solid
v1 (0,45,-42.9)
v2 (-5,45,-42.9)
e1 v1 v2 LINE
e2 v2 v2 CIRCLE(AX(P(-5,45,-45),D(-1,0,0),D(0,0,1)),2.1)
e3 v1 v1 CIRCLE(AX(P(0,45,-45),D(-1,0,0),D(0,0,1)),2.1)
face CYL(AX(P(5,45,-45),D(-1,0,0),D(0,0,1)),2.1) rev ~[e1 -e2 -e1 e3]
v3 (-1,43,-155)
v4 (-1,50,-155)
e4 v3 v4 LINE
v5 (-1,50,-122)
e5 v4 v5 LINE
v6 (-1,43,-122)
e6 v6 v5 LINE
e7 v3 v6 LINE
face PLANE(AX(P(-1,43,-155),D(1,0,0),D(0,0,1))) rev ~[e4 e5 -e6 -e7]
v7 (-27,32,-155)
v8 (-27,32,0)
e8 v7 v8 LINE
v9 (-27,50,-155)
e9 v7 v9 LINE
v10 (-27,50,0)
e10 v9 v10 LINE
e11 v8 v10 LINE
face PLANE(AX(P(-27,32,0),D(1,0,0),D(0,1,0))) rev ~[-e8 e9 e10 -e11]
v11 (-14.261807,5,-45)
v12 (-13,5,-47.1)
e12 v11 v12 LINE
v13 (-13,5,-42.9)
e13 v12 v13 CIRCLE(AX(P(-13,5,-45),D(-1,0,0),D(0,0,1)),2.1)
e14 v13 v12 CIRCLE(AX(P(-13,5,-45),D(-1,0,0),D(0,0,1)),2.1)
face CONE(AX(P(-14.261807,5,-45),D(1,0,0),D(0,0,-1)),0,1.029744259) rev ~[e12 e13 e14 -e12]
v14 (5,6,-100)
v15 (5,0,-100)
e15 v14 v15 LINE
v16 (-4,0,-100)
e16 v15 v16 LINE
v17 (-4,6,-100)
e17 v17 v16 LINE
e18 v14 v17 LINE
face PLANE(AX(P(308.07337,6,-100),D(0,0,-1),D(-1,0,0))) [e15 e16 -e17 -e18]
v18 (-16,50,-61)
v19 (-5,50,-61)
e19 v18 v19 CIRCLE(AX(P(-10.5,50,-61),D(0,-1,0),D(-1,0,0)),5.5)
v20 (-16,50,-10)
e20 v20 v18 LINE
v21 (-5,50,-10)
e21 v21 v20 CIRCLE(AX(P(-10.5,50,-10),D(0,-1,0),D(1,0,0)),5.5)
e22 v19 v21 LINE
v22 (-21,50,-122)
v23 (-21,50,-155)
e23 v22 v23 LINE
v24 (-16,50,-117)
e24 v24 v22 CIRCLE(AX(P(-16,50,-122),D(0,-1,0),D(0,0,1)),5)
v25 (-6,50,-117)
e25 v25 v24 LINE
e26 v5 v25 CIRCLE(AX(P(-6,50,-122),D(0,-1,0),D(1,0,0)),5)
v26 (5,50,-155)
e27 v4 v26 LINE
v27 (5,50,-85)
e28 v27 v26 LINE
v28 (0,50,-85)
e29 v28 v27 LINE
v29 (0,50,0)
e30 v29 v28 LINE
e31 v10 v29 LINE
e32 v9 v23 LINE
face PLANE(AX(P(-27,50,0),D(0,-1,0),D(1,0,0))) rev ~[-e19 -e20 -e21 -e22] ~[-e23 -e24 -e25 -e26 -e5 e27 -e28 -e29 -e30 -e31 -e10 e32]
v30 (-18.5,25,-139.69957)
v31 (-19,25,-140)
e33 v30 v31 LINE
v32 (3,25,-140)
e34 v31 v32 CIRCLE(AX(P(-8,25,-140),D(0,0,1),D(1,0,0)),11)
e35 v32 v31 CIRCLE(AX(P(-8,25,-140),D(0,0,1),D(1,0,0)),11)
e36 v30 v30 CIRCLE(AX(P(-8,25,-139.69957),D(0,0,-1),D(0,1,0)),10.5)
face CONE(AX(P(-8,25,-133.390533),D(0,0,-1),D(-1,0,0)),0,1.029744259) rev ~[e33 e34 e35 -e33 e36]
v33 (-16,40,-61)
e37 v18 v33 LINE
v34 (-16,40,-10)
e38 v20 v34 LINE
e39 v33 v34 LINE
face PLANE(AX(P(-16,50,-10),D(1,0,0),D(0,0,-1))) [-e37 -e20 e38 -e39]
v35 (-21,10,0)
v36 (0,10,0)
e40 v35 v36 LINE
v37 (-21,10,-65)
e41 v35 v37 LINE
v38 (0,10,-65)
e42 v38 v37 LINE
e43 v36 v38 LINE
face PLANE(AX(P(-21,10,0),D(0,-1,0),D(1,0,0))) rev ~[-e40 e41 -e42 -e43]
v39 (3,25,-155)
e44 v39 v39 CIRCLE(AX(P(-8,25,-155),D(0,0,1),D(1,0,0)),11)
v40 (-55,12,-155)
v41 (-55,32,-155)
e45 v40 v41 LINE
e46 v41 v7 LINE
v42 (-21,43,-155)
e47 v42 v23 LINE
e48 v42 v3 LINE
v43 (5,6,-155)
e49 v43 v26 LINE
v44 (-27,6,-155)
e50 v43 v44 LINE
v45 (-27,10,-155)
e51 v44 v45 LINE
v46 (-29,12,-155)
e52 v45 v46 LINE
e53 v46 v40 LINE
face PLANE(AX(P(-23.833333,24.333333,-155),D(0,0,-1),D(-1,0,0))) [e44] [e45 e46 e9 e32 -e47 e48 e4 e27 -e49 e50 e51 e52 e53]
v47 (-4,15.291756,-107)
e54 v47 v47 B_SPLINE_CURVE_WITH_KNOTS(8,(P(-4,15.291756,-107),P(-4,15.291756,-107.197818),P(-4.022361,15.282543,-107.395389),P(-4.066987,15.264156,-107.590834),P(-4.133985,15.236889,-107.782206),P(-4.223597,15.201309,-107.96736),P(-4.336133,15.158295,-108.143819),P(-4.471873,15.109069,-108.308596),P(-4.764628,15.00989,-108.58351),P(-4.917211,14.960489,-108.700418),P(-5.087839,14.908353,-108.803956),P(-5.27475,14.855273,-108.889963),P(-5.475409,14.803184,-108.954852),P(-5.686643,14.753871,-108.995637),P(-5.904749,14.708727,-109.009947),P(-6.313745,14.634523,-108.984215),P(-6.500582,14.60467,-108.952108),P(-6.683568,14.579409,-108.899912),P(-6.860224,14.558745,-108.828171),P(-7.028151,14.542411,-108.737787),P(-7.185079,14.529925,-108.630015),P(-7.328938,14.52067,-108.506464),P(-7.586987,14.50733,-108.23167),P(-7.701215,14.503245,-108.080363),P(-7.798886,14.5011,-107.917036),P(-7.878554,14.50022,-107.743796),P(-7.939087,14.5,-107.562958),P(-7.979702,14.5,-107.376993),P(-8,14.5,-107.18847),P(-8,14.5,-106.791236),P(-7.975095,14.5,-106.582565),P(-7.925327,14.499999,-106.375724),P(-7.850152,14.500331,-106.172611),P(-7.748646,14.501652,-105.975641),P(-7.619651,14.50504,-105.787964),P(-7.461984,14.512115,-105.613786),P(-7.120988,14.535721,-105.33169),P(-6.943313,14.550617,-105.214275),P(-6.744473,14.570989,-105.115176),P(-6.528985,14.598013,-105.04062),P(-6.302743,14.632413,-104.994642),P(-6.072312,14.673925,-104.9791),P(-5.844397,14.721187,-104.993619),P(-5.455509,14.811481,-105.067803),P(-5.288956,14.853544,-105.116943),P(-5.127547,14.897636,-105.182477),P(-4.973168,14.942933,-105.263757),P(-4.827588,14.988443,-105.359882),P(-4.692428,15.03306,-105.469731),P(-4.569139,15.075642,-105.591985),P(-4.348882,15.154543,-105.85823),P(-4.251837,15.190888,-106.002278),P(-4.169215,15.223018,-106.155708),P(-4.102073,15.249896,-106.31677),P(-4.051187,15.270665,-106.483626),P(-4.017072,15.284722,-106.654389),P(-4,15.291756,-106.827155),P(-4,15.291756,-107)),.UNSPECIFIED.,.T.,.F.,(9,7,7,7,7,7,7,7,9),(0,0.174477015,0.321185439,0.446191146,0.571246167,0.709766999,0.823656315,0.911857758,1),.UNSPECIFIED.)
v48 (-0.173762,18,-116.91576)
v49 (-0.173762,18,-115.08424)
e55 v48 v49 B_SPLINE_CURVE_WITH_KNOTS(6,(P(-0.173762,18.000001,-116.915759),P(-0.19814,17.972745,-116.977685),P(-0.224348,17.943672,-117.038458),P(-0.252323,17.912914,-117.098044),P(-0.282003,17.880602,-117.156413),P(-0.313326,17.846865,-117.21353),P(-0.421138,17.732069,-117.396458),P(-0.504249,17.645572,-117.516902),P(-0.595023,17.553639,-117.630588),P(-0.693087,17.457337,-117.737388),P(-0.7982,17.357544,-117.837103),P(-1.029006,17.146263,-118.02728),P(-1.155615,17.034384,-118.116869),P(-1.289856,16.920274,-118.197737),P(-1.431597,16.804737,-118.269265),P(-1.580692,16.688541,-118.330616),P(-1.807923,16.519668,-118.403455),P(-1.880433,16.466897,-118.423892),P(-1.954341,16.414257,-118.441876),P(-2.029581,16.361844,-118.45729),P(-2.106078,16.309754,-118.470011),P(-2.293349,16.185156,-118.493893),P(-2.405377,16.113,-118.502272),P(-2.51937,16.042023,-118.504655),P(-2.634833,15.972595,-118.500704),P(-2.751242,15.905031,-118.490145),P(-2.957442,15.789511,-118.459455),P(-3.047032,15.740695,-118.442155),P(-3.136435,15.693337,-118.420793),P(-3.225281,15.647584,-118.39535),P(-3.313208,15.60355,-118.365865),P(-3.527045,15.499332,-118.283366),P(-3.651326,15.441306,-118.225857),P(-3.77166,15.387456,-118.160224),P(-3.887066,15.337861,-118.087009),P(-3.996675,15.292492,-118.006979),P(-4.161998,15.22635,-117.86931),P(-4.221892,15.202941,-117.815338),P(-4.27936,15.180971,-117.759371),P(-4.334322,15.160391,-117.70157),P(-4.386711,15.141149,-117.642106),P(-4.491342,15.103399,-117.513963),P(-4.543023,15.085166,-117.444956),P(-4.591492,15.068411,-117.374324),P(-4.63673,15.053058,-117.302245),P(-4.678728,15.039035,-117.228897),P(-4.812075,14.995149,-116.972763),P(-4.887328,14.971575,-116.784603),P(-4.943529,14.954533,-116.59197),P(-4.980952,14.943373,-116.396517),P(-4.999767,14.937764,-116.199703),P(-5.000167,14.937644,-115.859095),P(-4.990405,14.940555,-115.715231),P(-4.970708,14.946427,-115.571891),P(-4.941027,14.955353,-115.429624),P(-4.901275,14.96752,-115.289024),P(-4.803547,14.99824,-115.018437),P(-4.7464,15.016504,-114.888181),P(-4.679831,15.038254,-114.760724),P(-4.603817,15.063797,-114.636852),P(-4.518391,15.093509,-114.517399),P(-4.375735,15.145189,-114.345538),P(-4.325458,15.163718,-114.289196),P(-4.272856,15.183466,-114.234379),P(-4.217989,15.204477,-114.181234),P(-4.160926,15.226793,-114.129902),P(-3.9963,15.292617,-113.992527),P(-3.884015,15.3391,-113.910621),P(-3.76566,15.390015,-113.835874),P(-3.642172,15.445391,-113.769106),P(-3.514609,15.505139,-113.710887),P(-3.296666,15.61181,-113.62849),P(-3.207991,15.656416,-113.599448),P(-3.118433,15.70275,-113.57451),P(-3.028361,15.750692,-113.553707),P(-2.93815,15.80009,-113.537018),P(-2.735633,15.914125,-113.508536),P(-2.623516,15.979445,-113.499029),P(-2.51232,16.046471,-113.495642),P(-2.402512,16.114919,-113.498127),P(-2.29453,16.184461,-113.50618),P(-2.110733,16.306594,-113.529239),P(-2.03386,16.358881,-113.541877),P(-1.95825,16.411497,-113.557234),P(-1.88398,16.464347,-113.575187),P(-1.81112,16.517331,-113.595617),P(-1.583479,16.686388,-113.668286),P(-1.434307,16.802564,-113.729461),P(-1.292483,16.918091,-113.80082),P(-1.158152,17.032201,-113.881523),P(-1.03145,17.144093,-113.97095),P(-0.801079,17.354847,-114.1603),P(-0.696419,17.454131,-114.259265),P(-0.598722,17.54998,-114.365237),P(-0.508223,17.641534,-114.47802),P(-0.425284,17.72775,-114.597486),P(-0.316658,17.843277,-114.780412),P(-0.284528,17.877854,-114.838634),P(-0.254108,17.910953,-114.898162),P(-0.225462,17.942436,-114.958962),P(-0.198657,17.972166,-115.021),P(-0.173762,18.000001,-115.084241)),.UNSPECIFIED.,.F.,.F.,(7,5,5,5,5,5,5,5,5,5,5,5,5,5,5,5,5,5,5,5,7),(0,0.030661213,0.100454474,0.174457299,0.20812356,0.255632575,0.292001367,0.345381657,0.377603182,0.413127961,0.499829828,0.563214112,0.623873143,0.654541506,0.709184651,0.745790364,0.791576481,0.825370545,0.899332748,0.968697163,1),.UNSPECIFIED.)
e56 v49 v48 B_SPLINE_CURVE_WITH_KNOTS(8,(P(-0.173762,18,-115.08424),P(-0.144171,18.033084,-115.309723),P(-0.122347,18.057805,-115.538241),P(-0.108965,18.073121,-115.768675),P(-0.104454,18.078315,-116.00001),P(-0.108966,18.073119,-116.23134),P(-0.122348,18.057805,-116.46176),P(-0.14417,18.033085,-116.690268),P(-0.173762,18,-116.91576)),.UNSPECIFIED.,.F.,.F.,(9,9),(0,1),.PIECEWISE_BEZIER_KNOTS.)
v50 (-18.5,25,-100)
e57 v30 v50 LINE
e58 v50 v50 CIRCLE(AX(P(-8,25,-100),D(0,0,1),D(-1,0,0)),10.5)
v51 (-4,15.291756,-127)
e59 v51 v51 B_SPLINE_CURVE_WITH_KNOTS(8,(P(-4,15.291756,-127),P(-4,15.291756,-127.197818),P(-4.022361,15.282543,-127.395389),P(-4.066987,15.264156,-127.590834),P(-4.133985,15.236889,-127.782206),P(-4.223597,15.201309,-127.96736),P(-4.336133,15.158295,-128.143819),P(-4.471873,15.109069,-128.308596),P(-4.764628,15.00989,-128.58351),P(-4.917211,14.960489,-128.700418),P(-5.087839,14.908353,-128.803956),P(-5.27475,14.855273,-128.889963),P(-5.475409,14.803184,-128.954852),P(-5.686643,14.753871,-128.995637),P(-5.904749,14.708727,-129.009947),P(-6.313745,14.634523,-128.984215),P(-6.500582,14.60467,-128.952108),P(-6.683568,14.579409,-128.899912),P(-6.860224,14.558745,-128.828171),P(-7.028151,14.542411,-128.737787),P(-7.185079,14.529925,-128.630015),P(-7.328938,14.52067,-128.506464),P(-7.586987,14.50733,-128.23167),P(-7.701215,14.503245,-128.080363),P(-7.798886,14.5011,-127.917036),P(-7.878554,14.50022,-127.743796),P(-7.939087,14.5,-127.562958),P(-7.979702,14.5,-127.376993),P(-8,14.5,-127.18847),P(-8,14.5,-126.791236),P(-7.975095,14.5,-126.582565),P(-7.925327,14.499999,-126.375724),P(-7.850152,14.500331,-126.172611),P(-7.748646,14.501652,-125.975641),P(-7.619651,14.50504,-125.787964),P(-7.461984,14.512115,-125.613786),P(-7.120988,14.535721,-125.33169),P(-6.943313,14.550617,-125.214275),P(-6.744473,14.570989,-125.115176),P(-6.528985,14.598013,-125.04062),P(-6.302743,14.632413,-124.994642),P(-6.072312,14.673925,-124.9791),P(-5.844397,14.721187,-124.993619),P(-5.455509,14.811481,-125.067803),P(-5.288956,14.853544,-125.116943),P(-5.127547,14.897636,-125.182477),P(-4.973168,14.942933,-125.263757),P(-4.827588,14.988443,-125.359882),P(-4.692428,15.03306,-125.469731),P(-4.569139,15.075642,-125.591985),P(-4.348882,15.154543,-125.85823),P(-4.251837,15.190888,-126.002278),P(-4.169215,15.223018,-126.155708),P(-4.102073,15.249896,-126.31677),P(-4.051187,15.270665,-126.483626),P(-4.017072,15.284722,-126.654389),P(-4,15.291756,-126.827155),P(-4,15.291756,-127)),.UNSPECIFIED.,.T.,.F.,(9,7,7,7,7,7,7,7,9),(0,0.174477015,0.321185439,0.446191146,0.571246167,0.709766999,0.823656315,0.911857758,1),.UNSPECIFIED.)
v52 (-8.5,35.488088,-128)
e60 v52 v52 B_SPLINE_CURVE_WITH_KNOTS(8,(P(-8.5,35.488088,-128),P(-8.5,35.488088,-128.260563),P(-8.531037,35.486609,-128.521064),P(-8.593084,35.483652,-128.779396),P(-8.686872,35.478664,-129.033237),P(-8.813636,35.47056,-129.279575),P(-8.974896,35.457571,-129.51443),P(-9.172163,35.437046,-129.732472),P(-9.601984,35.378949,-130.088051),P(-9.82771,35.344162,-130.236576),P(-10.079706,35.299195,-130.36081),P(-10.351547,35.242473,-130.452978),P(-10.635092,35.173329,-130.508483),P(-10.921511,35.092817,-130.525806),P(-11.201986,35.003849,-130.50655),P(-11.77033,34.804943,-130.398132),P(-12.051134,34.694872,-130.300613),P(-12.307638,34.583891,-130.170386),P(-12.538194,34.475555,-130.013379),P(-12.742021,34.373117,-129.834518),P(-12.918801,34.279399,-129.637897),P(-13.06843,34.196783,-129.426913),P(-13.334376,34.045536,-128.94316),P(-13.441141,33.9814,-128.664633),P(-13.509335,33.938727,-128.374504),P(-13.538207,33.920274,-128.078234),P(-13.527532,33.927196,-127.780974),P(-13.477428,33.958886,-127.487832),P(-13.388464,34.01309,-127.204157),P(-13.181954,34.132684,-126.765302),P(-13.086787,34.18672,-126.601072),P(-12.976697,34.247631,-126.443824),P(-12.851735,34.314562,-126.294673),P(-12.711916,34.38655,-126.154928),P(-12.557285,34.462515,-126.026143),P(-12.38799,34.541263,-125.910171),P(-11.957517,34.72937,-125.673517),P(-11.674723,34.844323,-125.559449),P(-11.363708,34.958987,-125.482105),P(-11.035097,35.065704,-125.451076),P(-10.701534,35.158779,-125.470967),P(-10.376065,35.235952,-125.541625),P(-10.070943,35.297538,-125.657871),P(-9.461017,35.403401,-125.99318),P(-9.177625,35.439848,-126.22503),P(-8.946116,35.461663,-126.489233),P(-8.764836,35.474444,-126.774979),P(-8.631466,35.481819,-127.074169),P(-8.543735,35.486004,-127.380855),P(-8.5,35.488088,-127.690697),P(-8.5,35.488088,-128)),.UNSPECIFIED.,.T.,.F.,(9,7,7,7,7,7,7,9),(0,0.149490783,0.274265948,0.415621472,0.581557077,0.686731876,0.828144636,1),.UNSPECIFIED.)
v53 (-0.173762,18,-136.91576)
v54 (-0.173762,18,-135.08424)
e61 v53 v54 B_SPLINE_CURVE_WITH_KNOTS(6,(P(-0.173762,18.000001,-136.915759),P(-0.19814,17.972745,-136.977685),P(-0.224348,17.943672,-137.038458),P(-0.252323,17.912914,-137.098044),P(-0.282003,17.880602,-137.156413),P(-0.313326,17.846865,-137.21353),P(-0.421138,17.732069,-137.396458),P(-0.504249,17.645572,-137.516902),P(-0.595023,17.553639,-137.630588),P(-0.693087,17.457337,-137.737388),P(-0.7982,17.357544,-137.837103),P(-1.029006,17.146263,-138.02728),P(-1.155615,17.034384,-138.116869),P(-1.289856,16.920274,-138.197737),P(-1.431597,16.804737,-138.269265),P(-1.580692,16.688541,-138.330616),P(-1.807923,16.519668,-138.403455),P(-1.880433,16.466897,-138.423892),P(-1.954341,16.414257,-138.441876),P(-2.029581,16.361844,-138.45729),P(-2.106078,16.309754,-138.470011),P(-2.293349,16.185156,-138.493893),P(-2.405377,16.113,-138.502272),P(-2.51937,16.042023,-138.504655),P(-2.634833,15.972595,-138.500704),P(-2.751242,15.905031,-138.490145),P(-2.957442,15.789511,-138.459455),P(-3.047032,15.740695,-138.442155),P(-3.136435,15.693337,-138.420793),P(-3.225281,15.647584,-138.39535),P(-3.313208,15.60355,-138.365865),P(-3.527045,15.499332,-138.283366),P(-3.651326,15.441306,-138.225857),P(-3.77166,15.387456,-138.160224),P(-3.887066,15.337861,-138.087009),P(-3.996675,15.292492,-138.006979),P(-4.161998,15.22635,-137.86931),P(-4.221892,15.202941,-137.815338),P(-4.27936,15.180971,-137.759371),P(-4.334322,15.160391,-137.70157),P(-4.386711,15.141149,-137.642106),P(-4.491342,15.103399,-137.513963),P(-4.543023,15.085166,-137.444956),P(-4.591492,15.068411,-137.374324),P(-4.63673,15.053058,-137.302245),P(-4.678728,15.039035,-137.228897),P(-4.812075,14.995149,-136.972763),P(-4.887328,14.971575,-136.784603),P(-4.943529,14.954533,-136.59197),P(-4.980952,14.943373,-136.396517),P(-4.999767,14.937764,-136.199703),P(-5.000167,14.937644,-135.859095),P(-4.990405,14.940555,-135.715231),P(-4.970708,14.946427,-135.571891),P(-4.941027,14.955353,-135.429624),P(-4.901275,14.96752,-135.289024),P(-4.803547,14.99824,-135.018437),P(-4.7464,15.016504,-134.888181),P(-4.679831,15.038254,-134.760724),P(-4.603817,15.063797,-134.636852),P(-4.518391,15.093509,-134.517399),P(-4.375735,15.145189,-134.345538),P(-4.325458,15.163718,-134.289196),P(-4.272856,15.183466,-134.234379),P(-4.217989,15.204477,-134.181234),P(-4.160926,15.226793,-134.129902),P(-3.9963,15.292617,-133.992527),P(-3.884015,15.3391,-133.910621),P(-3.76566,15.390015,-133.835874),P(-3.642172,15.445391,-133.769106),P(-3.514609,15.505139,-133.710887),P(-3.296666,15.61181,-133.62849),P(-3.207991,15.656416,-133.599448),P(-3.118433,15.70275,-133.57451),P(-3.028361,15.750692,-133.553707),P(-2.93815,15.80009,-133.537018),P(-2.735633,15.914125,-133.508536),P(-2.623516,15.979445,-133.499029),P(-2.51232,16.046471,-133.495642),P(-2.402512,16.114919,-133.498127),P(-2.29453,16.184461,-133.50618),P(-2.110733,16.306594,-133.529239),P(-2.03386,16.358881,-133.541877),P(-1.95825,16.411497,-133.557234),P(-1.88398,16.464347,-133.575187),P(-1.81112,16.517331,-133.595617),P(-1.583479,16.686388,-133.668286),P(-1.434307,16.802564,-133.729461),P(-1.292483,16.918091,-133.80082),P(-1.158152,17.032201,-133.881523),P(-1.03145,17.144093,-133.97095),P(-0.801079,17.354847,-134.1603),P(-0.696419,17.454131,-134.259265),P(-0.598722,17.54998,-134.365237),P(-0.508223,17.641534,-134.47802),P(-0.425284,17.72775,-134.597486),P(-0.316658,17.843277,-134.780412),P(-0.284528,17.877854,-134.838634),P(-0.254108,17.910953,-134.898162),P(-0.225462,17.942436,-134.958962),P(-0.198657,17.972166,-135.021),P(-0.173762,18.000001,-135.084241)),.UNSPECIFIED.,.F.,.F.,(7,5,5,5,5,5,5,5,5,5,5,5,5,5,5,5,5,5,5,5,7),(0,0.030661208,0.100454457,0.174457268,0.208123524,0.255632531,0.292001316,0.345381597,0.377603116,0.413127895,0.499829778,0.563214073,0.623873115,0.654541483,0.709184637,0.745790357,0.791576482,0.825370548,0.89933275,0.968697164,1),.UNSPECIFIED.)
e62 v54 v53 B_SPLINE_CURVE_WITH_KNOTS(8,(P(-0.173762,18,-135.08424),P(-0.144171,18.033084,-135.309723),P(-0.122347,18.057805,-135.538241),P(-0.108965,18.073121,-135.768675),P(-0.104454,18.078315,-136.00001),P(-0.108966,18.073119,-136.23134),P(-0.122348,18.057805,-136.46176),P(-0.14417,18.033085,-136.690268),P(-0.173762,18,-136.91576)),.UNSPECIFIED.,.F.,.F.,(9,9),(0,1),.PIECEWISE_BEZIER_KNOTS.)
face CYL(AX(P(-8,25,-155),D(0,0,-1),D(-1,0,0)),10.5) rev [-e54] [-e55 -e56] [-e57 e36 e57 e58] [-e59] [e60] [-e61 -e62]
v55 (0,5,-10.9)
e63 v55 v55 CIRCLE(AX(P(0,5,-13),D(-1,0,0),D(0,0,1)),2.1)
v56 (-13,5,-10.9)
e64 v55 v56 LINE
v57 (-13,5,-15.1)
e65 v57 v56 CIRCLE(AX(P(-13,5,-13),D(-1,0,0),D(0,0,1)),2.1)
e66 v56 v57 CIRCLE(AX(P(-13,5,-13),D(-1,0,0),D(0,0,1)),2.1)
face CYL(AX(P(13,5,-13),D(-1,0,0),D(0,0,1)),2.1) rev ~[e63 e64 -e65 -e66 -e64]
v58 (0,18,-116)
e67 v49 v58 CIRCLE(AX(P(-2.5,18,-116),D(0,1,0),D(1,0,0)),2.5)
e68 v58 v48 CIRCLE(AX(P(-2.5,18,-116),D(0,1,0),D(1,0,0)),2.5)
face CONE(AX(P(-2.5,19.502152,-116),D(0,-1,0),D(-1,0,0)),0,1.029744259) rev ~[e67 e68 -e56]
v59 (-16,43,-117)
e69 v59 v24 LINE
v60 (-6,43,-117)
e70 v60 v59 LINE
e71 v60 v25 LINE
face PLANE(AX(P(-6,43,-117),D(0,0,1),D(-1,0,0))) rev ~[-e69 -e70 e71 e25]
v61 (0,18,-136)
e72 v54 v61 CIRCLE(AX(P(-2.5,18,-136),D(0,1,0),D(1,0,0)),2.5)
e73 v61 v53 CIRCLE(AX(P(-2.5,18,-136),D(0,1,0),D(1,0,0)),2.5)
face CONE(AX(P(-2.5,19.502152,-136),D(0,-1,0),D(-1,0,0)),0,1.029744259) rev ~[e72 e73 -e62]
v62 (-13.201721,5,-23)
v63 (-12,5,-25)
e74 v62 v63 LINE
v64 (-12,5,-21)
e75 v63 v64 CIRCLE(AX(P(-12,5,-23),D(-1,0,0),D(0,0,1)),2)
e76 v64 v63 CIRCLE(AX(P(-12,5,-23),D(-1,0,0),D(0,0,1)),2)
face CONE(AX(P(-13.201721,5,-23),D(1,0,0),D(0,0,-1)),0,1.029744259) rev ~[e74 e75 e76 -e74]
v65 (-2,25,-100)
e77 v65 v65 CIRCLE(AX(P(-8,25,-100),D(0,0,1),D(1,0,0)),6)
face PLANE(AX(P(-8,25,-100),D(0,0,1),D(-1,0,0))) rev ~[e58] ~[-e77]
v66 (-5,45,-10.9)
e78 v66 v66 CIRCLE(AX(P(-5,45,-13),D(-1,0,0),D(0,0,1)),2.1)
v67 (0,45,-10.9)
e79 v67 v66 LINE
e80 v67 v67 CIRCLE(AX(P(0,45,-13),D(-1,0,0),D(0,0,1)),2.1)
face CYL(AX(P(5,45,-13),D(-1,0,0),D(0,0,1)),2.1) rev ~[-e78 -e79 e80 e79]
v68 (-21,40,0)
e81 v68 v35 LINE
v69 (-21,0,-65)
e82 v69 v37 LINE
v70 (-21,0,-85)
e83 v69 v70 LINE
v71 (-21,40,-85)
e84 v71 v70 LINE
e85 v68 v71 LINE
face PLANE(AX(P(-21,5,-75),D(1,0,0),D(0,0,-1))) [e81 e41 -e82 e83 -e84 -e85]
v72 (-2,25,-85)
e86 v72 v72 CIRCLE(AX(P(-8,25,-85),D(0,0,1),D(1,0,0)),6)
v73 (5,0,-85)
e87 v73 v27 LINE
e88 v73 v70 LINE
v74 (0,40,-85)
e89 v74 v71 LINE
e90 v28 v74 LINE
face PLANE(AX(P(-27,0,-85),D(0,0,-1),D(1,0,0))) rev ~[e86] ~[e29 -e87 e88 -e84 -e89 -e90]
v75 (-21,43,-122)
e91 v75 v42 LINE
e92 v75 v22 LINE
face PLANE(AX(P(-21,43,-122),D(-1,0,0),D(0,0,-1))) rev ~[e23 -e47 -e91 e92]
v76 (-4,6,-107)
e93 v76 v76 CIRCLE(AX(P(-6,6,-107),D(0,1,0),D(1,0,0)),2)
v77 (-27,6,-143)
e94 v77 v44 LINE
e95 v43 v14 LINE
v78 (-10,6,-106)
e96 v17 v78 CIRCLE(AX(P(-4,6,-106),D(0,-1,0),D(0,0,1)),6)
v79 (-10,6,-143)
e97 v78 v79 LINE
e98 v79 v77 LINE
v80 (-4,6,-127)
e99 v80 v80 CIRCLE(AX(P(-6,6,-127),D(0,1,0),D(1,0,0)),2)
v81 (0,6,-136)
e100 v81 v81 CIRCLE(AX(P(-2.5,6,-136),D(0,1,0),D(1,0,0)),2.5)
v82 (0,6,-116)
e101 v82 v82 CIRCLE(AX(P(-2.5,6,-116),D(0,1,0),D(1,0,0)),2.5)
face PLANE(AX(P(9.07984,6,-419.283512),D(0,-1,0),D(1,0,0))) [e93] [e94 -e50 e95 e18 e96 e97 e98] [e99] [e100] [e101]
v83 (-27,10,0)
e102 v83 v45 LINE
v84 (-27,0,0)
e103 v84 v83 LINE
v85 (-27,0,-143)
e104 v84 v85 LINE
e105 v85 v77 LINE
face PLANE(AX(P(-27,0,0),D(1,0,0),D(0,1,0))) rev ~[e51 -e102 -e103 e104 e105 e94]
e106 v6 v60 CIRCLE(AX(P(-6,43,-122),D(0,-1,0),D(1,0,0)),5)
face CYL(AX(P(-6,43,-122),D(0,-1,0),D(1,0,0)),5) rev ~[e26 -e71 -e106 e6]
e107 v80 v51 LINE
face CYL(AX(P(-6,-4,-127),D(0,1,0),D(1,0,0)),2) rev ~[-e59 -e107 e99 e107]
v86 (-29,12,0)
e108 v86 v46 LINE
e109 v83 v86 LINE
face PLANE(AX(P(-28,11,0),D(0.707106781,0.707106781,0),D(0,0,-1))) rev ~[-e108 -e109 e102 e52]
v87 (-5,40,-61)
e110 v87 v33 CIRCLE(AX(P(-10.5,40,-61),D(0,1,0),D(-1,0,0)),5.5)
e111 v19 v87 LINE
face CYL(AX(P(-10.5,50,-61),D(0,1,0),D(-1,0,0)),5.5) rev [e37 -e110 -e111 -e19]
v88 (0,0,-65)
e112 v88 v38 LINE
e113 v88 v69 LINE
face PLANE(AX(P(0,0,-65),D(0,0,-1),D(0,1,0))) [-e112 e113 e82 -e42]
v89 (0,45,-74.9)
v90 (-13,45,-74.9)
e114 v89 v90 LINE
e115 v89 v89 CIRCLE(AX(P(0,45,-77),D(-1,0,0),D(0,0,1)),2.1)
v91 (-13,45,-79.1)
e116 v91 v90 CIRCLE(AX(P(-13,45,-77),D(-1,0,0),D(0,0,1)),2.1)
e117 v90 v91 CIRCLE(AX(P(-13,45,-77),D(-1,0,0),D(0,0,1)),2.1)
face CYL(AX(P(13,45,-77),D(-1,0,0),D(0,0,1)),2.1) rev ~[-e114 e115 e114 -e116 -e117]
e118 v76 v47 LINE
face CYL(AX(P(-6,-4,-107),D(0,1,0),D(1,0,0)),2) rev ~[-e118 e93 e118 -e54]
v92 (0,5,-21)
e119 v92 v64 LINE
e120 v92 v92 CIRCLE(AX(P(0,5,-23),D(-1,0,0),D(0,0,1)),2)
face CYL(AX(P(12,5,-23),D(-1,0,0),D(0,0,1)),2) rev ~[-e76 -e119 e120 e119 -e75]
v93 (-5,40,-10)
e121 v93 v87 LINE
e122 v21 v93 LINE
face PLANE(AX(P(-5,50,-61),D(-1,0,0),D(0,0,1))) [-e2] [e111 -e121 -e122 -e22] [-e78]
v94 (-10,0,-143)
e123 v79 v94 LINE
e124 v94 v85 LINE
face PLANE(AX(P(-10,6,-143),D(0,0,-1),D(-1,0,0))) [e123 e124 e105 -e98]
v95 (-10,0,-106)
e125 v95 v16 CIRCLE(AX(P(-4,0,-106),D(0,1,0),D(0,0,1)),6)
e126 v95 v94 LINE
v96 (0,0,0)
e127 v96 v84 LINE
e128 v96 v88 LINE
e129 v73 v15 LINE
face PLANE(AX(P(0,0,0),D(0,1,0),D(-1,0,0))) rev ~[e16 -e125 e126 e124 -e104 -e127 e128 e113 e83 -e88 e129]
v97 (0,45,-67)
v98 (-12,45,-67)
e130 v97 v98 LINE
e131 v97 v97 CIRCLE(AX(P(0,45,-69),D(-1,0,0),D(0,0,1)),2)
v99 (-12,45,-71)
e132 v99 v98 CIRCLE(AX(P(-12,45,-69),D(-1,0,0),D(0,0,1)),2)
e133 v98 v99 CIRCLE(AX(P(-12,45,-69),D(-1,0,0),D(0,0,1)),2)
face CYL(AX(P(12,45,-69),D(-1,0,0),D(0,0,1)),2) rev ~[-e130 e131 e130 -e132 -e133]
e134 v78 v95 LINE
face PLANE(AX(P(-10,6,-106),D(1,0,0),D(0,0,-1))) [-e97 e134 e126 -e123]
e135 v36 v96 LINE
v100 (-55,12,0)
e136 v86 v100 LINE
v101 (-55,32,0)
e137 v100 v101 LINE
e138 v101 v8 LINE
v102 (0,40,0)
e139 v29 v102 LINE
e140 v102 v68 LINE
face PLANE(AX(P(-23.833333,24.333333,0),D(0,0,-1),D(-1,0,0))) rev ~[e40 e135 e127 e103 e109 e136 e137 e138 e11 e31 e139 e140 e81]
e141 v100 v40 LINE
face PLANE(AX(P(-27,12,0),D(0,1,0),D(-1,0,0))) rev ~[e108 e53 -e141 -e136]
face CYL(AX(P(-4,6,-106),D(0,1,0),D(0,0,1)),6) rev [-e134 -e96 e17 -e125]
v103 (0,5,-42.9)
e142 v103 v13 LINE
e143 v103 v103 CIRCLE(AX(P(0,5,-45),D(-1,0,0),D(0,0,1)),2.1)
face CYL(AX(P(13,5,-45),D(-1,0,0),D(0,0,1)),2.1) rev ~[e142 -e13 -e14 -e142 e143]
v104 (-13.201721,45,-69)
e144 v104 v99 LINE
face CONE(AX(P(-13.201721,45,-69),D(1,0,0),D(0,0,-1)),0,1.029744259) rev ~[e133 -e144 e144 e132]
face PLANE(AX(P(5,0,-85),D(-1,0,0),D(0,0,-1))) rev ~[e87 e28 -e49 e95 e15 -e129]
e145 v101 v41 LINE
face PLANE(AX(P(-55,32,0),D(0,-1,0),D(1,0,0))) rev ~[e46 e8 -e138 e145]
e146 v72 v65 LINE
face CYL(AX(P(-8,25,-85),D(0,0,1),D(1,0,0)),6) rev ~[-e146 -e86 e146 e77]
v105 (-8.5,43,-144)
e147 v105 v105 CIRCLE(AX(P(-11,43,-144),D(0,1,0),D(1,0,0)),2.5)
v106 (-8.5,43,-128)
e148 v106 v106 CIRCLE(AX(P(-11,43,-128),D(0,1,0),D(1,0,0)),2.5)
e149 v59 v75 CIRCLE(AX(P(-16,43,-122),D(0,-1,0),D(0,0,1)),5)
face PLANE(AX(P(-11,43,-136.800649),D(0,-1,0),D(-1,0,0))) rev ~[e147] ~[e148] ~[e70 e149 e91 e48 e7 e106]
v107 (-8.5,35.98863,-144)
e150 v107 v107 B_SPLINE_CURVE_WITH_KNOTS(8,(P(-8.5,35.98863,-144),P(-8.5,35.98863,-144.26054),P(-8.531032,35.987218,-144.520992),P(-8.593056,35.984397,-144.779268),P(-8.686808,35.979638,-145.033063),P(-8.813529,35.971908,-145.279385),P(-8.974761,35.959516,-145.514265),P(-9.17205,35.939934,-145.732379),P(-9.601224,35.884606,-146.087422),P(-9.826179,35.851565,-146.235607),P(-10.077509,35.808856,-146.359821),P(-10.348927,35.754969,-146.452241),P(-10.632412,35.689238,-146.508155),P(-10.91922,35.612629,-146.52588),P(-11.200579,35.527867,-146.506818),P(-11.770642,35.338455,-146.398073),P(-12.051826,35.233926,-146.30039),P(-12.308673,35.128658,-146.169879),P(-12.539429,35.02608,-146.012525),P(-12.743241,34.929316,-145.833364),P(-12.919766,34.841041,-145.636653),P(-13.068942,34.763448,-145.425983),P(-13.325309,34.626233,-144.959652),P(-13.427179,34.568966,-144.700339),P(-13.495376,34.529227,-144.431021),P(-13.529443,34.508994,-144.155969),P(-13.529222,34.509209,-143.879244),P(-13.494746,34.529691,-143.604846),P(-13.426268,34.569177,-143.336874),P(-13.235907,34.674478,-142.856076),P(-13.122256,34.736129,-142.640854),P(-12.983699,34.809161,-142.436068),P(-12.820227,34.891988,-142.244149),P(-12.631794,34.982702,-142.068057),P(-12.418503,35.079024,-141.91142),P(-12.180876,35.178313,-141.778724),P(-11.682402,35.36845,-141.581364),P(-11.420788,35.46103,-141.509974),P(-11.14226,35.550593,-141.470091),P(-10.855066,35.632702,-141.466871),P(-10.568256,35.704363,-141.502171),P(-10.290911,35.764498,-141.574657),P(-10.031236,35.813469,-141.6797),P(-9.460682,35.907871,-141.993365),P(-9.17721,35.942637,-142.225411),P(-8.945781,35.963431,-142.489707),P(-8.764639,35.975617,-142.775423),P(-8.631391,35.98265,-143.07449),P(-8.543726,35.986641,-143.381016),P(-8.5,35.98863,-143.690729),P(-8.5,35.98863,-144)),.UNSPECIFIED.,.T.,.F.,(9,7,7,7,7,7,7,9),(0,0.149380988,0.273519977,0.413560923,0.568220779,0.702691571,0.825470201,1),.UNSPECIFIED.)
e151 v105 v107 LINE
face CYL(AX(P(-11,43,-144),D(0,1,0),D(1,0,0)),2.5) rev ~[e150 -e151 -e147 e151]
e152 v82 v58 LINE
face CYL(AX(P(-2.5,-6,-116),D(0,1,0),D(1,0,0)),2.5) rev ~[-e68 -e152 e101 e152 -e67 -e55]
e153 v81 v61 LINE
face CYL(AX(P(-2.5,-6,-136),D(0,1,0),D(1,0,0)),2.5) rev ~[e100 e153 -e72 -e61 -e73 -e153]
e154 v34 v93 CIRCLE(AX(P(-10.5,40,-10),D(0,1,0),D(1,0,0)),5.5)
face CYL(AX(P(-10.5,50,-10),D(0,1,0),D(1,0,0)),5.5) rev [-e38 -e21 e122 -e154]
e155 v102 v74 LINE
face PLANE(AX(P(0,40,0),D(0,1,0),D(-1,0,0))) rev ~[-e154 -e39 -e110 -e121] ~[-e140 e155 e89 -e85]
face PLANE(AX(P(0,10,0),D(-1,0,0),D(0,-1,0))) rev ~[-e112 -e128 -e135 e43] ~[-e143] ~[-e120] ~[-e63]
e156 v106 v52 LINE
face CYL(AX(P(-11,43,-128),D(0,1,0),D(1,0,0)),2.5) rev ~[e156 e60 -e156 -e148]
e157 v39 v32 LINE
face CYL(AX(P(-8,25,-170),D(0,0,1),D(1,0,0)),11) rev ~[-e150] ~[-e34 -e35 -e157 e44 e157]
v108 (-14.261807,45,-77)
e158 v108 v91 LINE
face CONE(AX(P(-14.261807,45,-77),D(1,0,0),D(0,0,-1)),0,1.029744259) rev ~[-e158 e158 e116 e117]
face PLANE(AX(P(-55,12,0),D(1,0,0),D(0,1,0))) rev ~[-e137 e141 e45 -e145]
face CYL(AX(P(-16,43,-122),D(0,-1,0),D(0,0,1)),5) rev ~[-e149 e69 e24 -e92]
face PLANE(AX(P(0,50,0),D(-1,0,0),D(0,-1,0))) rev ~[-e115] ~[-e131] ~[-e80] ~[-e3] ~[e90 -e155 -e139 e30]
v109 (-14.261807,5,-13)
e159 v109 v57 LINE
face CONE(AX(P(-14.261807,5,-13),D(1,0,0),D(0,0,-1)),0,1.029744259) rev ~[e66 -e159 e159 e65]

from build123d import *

# Parameters (mm, degrees)
EXTRUDE_1_DEPTH          = 155
EXTRUDE_2_REACH          = 173.901
SKETCH_2_W               = 32
SKETCH_2_H               = 70
CUT_EXTRUDE_1_DEPTH      = 172.901134377
CUT_EXTRUDE_1_DEPTH_BACK = 7
CUT_EXTRUDE_2_REACH      = 173.901
CUT_EXTRUDE_3_REACH      = 114.916
SKETCH_5_R               = 6
CUT_EXTRUDE_START        = -70
SKETCH_6_R               = 10.5
CUT_EXTRUDE_4_DEPTH      = 55
M24X2_0_1_D              = 22
M24X2_0_1_DEPTH          = 15
M24X2_0_1_TIP            = 6.609466809
HOLE_WIZARD_M6_1_REACH   = 171.997
HOLE_WIZARD_M6_1_BORE_R  = 2.5
HOLE_WIZARD_M5_1_D       = 4.2
HOLE_WIZARD_M5_1_DEPTH   = 5
SKETCH_15_W              = 20
SKETCH_15_H              = 10
CUT_EXTRUDE_5_DEPTH      = 21
HOLE_WIZARD_M5_2_D       = 4.2
HOLE_WIZARD_M5_2_DEPTH   = 13
HOLE_WIZARD_M5_2_TIP     = 1.2618073
F_4_0MM_1_D              = 4
F_4_0MM_1_DEPTH          = 12
F_4_0MM_1_TIP            = 1.201721238
CUT_EXTRUDE_7_DEPTH      = 172.901134467
CUT_EXTRUDE_7_DEPTH_BACK = 6
F_4_0MM_2_D              = 4
F_4_0MM_2_DEPTH          = 10
F_4_0MM_2_TIP            = 1.201721238
HOLE_WIZARD_M6_2_D       = 5
HOLE_WIZARD_M6_2_DEPTH   = 12
HOLE_WIZARD_M6_2_TIP     = 1.502151548
CHAMFER_1_SIZE           = 2


with BuildPart() as part:
    # 草图1 → 凸台-拉伸1 (new body)
    with BuildSketch(Plane.XY):
        Polygon((0, 0), (-27, 0), (-27, 12), (-55, 12), (-55, 32), (-27, 32), (-27, 50), (0, 50), (0, 40), (-21, 40), (-21, 10), (0, 10), align=None)
    extrude(amount=-EXTRUDE_1_DEPTH)

    # 凸台-拉伸2: up to this face of the body (flat: up to its plane)
    extrude_2_end = Plane(part.part.faces().sort_by_distance((-13.5, 50, -77.5))[0])
    # 草图2 → 凸台-拉伸2 (add, up to the picked face)
    with BuildSketch(Plane(origin=(0, 0, 0), x_dir=(1, 0, 0), z_dir=(0, 1, 0)), mode=Mode.PRIVATE) as extrude_2_sk1:
        with Locations((-11, 120)):
            Rectangle(SKETCH_2_W, SKETCH_2_H)
    extrude_2_tool1 = split(extrude(extrude_2_sk1.sketch, amount=EXTRUDE_2_REACH, mode=Mode.PRIVATE), bisect_by=extrude_2_end, keep=Keep.BOTH, mode=Mode.PRIVATE)
    add(extrude_2_tool1.solids().sort_by(Axis((-11, 0, -120), (0, 1, 0)))[0])

    # 草图3 → 切除-拉伸1 (cut, two sides: drawn at the far end of the back side and taken through both)
    with BuildSketch(Plane(origin=(0, 50, 0), x_dir=(1, 0, 0), z_dir=(0, 1, 0)).offset(-CUT_EXTRUDE_1_DEPTH_BACK)):
        with BuildLine():
            Line((-6, 117), (-16, 117))
            ThreePointArc((-16, 117), (-19.535533906, 118.464466094), (-21, 122))
            Line((-21, 122), (-21, 155))
            Line((-21, 155), (-1, 155))
            Line((-1, 155), (-1, 122))
            ThreePointArc((-1, 122), (-2.464466094, 118.464466094), (-6, 117))
        make_face()
    extrude(amount=CUT_EXTRUDE_1_DEPTH + CUT_EXTRUDE_1_DEPTH_BACK, mode=Mode.SUBTRACT)

    # 草图4 → 切除-拉伸2 (cut, up to next)
    with BuildSketch(Plane(origin=(0, 50, 0), x_dir=(1, 0, 0), z_dir=(0, 1, 0)), mode=Mode.PRIVATE) as cut_extrude_2_sk1:
        with BuildLine():
            Line((-16, 10), (-16, 61))
            ThreePointArc((-16, 61), (-10.5, 66.5), (-5, 61))
            Line((-5, 61), (-5, 10))
            ThreePointArc((-5, 10), (-10.5, 4.5), (-16, 10))
        make_face()
    cut_extrude_2_tool1 = extrude(cut_extrude_2_sk1.sketch, amount=-CUT_EXTRUDE_2_REACH, mode=Mode.PRIVATE) & part.part
    add(cut_extrude_2_tool1.solids().sort_by_distance((-10.5, 50, -35.5))[0], mode=Mode.SUBTRACT)

    # 草图5 → 切除-拉伸3 (cut, up to next)
    with BuildSketch(Plane.XY.offset(-85), mode=Mode.PRIVATE) as cut_extrude_3_sk1:
        with Locations((-8, 25)):
            Circle(SKETCH_5_R)
    cut_extrude_3_tool1 = extrude(cut_extrude_3_sk1.sketch, amount=-CUT_EXTRUDE_3_REACH, mode=Mode.PRIVATE) & part.part
    add(cut_extrude_3_tool1.solids().sort_by_distance((-8, 25, -85))[0], mode=Mode.SUBTRACT)

    # 草图6 → 切除-拉伸4 (cut)
    with BuildSketch(Plane.XY.offset(-85).offset(CUT_EXTRUDE_START)):
        with Locations(Location((-8, 25, 0), (0, 0, 180))):
            Circle(SKETCH_6_R)
    extrude(amount=CUT_EXTRUDE_4_DEPTH, mode=Mode.SUBTRACT)

    # M24x2.0 螺纹孔1
    with Locations(Plane(origin=(0, 0, -155), x_dir=(-1, 0, 0), z_dir=(0, 0, -1))):
        with Locations((8, 25)):
            Hole(M24X2_0_1_D / 2, depth=M24X2_0_1_DEPTH)
            with Locations((0, 0, -(M24X2_0_1_DEPTH + M24X2_0_1_TIP / 2))):  # 118° drill point
                Cone(0, M24X2_0_1_D / 2, M24X2_0_1_TIP, mode=Mode.SUBTRACT)

    # M6 螺纹孔1 bore → M6 螺纹孔1 (cut, up to next)
    with BuildSketch(Plane(origin=(0, 43, 0), x_dir=(1, 0, 0), z_dir=(0, 1, 0)), mode=Mode.PRIVATE) as hole_wizard_m6_1_sk1:
        with Locations((-11, 144)):
            Circle(HOLE_WIZARD_M6_1_BORE_R)
    hole_wizard_m6_1_tool1 = extrude(hole_wizard_m6_1_sk1.sketch, amount=-HOLE_WIZARD_M6_1_REACH, mode=Mode.PRIVATE) & part.part
    # M6 螺纹孔1 bore → M6 螺纹孔1 (cut, up to next)
    with BuildSketch(Plane(origin=(0, 43, 0), x_dir=(1, 0, 0), z_dir=(0, 1, 0)), mode=Mode.PRIVATE) as hole_wizard_m6_1_sk2:
        with Locations((-11, 128)):
            Circle(HOLE_WIZARD_M6_1_BORE_R)
    hole_wizard_m6_1_tool2 = extrude(hole_wizard_m6_1_sk2.sketch, amount=-HOLE_WIZARD_M6_1_REACH, mode=Mode.PRIVATE) & part.part
    add(hole_wizard_m6_1_tool1.solids().sort_by_distance((-11, 43, -144))[0], mode=Mode.SUBTRACT)
    add(hole_wizard_m6_1_tool2.solids().sort_by_distance((-11, 43, -128))[0], mode=Mode.SUBTRACT)

    # M5 螺纹孔1
    with Locations(Plane(origin=(0, 0, 0), x_dir=(0, 0, -1), z_dir=(1, 0, 0))):
        with Locations((13, 45), (45, 45)):
            Hole(HOLE_WIZARD_M5_1_D / 2, depth=HOLE_WIZARD_M5_1_DEPTH)

    # 草图15 → 切除-拉伸5 (cut)
    with BuildSketch(Plane(origin=(0, 0, 0), x_dir=(0, 0, -1), z_dir=(1, 0, 0))):
        with Locations((75, 5)):
            Rectangle(SKETCH_15_W, SKETCH_15_H)
    extrude(amount=-CUT_EXTRUDE_5_DEPTH, mode=Mode.SUBTRACT)

    # M5 螺纹孔2
    with Locations(Plane(origin=(0, 0, 0), x_dir=(0, 0, -1), z_dir=(1, 0, 0))):
        with Locations((13, 5), (45, 5), (77, 45)):
            Hole(HOLE_WIZARD_M5_2_D / 2, depth=HOLE_WIZARD_M5_2_DEPTH)
            with Locations((0, 0, -(HOLE_WIZARD_M5_2_DEPTH + HOLE_WIZARD_M5_2_TIP / 2))):  # 118° drill point
                Cone(0, HOLE_WIZARD_M5_2_D / 2, HOLE_WIZARD_M5_2_TIP, mode=Mode.SUBTRACT)

    # Ø4.0mm 暗销孔1
    with Locations(Plane(origin=(0, 0, 0), x_dir=(0, 0, -1), z_dir=(1, 0, 0))):
        with Locations((23, 5), (69, 45)):
            Hole(F_4_0MM_1_D / 2, depth=F_4_0MM_1_DEPTH)
            with Locations((0, 0, -(F_4_0MM_1_DEPTH + F_4_0MM_1_TIP / 2))):  # 118° drill point
                Cone(0, F_4_0MM_1_D / 2, F_4_0MM_1_TIP, mode=Mode.SUBTRACT)

    # 草图22 → 切除-拉伸7 (cut, two sides: drawn at the far end of the back side and taken through both)
    with BuildSketch(Plane.XZ.offset(-CUT_EXTRUDE_7_DEPTH_BACK)):
        with BuildLine():
            Line((308.073369653, -100), (5, -100))
            Line((5, -100), (-4, -100))
            ThreePointArc((-4, -100), (-8.242640687, -101.757359313), (-10, -106))
            Line((-10, -106), (-10, -143))
            Line((-10, -143), (-27, -143))
            Line((-27, -143), (-330.073369653, -143))
            Line((-330.073369653, -143), (-289.322022823, -747.775327956))
            Line((-289.322022823, -747.775327956), (348.824716484, -704.775327956))
            Line((348.824716484, -704.775327956), (308.073369653, -100))
        make_face()
    extrude(amount=CUT_EXTRUDE_7_DEPTH + CUT_EXTRUDE_7_DEPTH_BACK, mode=Mode.SUBTRACT)

    # Ø4.0mm 暗销孔2
    with Locations(Plane(origin=(0, 6, 0), x_dir=(-1, 0, 0), z_dir=(0, -1, 0))):
        with Locations((6, 127), (6, 107)):
            Hole(F_4_0MM_2_D / 2, depth=F_4_0MM_2_DEPTH)
            with Locations((0, 0, -(F_4_0MM_2_DEPTH + F_4_0MM_2_TIP / 2))):  # 118° drill point
                Cone(0, F_4_0MM_2_D / 2, F_4_0MM_2_TIP, mode=Mode.SUBTRACT)

    # M6 螺纹孔2
    with Locations(Plane(origin=(0, 6, 0), x_dir=(-1, 0, 0), z_dir=(0, -1, 0))):
        with Locations((2.5, 136), (2.5, 116)):
            Hole(HOLE_WIZARD_M6_2_D / 2, depth=HOLE_WIZARD_M6_2_DEPTH)
            with Locations((0, 0, -(HOLE_WIZARD_M6_2_DEPTH + HOLE_WIZARD_M6_2_TIP / 2))):  # 118° drill point
                Cone(0, HOLE_WIZARD_M6_2_D / 2, HOLE_WIZARD_M6_2_TIP, mode=Mode.SUBTRACT)

    # 倒角1
    chamfer_1_edges = [part.edges().sort_by_distance(p)[0] for p in [
        (-27, 12, -77.5),
    ]]
    chamfer(chamfer_1_edges, length=CHAMFER_1_SIZE)


solid = part.part
